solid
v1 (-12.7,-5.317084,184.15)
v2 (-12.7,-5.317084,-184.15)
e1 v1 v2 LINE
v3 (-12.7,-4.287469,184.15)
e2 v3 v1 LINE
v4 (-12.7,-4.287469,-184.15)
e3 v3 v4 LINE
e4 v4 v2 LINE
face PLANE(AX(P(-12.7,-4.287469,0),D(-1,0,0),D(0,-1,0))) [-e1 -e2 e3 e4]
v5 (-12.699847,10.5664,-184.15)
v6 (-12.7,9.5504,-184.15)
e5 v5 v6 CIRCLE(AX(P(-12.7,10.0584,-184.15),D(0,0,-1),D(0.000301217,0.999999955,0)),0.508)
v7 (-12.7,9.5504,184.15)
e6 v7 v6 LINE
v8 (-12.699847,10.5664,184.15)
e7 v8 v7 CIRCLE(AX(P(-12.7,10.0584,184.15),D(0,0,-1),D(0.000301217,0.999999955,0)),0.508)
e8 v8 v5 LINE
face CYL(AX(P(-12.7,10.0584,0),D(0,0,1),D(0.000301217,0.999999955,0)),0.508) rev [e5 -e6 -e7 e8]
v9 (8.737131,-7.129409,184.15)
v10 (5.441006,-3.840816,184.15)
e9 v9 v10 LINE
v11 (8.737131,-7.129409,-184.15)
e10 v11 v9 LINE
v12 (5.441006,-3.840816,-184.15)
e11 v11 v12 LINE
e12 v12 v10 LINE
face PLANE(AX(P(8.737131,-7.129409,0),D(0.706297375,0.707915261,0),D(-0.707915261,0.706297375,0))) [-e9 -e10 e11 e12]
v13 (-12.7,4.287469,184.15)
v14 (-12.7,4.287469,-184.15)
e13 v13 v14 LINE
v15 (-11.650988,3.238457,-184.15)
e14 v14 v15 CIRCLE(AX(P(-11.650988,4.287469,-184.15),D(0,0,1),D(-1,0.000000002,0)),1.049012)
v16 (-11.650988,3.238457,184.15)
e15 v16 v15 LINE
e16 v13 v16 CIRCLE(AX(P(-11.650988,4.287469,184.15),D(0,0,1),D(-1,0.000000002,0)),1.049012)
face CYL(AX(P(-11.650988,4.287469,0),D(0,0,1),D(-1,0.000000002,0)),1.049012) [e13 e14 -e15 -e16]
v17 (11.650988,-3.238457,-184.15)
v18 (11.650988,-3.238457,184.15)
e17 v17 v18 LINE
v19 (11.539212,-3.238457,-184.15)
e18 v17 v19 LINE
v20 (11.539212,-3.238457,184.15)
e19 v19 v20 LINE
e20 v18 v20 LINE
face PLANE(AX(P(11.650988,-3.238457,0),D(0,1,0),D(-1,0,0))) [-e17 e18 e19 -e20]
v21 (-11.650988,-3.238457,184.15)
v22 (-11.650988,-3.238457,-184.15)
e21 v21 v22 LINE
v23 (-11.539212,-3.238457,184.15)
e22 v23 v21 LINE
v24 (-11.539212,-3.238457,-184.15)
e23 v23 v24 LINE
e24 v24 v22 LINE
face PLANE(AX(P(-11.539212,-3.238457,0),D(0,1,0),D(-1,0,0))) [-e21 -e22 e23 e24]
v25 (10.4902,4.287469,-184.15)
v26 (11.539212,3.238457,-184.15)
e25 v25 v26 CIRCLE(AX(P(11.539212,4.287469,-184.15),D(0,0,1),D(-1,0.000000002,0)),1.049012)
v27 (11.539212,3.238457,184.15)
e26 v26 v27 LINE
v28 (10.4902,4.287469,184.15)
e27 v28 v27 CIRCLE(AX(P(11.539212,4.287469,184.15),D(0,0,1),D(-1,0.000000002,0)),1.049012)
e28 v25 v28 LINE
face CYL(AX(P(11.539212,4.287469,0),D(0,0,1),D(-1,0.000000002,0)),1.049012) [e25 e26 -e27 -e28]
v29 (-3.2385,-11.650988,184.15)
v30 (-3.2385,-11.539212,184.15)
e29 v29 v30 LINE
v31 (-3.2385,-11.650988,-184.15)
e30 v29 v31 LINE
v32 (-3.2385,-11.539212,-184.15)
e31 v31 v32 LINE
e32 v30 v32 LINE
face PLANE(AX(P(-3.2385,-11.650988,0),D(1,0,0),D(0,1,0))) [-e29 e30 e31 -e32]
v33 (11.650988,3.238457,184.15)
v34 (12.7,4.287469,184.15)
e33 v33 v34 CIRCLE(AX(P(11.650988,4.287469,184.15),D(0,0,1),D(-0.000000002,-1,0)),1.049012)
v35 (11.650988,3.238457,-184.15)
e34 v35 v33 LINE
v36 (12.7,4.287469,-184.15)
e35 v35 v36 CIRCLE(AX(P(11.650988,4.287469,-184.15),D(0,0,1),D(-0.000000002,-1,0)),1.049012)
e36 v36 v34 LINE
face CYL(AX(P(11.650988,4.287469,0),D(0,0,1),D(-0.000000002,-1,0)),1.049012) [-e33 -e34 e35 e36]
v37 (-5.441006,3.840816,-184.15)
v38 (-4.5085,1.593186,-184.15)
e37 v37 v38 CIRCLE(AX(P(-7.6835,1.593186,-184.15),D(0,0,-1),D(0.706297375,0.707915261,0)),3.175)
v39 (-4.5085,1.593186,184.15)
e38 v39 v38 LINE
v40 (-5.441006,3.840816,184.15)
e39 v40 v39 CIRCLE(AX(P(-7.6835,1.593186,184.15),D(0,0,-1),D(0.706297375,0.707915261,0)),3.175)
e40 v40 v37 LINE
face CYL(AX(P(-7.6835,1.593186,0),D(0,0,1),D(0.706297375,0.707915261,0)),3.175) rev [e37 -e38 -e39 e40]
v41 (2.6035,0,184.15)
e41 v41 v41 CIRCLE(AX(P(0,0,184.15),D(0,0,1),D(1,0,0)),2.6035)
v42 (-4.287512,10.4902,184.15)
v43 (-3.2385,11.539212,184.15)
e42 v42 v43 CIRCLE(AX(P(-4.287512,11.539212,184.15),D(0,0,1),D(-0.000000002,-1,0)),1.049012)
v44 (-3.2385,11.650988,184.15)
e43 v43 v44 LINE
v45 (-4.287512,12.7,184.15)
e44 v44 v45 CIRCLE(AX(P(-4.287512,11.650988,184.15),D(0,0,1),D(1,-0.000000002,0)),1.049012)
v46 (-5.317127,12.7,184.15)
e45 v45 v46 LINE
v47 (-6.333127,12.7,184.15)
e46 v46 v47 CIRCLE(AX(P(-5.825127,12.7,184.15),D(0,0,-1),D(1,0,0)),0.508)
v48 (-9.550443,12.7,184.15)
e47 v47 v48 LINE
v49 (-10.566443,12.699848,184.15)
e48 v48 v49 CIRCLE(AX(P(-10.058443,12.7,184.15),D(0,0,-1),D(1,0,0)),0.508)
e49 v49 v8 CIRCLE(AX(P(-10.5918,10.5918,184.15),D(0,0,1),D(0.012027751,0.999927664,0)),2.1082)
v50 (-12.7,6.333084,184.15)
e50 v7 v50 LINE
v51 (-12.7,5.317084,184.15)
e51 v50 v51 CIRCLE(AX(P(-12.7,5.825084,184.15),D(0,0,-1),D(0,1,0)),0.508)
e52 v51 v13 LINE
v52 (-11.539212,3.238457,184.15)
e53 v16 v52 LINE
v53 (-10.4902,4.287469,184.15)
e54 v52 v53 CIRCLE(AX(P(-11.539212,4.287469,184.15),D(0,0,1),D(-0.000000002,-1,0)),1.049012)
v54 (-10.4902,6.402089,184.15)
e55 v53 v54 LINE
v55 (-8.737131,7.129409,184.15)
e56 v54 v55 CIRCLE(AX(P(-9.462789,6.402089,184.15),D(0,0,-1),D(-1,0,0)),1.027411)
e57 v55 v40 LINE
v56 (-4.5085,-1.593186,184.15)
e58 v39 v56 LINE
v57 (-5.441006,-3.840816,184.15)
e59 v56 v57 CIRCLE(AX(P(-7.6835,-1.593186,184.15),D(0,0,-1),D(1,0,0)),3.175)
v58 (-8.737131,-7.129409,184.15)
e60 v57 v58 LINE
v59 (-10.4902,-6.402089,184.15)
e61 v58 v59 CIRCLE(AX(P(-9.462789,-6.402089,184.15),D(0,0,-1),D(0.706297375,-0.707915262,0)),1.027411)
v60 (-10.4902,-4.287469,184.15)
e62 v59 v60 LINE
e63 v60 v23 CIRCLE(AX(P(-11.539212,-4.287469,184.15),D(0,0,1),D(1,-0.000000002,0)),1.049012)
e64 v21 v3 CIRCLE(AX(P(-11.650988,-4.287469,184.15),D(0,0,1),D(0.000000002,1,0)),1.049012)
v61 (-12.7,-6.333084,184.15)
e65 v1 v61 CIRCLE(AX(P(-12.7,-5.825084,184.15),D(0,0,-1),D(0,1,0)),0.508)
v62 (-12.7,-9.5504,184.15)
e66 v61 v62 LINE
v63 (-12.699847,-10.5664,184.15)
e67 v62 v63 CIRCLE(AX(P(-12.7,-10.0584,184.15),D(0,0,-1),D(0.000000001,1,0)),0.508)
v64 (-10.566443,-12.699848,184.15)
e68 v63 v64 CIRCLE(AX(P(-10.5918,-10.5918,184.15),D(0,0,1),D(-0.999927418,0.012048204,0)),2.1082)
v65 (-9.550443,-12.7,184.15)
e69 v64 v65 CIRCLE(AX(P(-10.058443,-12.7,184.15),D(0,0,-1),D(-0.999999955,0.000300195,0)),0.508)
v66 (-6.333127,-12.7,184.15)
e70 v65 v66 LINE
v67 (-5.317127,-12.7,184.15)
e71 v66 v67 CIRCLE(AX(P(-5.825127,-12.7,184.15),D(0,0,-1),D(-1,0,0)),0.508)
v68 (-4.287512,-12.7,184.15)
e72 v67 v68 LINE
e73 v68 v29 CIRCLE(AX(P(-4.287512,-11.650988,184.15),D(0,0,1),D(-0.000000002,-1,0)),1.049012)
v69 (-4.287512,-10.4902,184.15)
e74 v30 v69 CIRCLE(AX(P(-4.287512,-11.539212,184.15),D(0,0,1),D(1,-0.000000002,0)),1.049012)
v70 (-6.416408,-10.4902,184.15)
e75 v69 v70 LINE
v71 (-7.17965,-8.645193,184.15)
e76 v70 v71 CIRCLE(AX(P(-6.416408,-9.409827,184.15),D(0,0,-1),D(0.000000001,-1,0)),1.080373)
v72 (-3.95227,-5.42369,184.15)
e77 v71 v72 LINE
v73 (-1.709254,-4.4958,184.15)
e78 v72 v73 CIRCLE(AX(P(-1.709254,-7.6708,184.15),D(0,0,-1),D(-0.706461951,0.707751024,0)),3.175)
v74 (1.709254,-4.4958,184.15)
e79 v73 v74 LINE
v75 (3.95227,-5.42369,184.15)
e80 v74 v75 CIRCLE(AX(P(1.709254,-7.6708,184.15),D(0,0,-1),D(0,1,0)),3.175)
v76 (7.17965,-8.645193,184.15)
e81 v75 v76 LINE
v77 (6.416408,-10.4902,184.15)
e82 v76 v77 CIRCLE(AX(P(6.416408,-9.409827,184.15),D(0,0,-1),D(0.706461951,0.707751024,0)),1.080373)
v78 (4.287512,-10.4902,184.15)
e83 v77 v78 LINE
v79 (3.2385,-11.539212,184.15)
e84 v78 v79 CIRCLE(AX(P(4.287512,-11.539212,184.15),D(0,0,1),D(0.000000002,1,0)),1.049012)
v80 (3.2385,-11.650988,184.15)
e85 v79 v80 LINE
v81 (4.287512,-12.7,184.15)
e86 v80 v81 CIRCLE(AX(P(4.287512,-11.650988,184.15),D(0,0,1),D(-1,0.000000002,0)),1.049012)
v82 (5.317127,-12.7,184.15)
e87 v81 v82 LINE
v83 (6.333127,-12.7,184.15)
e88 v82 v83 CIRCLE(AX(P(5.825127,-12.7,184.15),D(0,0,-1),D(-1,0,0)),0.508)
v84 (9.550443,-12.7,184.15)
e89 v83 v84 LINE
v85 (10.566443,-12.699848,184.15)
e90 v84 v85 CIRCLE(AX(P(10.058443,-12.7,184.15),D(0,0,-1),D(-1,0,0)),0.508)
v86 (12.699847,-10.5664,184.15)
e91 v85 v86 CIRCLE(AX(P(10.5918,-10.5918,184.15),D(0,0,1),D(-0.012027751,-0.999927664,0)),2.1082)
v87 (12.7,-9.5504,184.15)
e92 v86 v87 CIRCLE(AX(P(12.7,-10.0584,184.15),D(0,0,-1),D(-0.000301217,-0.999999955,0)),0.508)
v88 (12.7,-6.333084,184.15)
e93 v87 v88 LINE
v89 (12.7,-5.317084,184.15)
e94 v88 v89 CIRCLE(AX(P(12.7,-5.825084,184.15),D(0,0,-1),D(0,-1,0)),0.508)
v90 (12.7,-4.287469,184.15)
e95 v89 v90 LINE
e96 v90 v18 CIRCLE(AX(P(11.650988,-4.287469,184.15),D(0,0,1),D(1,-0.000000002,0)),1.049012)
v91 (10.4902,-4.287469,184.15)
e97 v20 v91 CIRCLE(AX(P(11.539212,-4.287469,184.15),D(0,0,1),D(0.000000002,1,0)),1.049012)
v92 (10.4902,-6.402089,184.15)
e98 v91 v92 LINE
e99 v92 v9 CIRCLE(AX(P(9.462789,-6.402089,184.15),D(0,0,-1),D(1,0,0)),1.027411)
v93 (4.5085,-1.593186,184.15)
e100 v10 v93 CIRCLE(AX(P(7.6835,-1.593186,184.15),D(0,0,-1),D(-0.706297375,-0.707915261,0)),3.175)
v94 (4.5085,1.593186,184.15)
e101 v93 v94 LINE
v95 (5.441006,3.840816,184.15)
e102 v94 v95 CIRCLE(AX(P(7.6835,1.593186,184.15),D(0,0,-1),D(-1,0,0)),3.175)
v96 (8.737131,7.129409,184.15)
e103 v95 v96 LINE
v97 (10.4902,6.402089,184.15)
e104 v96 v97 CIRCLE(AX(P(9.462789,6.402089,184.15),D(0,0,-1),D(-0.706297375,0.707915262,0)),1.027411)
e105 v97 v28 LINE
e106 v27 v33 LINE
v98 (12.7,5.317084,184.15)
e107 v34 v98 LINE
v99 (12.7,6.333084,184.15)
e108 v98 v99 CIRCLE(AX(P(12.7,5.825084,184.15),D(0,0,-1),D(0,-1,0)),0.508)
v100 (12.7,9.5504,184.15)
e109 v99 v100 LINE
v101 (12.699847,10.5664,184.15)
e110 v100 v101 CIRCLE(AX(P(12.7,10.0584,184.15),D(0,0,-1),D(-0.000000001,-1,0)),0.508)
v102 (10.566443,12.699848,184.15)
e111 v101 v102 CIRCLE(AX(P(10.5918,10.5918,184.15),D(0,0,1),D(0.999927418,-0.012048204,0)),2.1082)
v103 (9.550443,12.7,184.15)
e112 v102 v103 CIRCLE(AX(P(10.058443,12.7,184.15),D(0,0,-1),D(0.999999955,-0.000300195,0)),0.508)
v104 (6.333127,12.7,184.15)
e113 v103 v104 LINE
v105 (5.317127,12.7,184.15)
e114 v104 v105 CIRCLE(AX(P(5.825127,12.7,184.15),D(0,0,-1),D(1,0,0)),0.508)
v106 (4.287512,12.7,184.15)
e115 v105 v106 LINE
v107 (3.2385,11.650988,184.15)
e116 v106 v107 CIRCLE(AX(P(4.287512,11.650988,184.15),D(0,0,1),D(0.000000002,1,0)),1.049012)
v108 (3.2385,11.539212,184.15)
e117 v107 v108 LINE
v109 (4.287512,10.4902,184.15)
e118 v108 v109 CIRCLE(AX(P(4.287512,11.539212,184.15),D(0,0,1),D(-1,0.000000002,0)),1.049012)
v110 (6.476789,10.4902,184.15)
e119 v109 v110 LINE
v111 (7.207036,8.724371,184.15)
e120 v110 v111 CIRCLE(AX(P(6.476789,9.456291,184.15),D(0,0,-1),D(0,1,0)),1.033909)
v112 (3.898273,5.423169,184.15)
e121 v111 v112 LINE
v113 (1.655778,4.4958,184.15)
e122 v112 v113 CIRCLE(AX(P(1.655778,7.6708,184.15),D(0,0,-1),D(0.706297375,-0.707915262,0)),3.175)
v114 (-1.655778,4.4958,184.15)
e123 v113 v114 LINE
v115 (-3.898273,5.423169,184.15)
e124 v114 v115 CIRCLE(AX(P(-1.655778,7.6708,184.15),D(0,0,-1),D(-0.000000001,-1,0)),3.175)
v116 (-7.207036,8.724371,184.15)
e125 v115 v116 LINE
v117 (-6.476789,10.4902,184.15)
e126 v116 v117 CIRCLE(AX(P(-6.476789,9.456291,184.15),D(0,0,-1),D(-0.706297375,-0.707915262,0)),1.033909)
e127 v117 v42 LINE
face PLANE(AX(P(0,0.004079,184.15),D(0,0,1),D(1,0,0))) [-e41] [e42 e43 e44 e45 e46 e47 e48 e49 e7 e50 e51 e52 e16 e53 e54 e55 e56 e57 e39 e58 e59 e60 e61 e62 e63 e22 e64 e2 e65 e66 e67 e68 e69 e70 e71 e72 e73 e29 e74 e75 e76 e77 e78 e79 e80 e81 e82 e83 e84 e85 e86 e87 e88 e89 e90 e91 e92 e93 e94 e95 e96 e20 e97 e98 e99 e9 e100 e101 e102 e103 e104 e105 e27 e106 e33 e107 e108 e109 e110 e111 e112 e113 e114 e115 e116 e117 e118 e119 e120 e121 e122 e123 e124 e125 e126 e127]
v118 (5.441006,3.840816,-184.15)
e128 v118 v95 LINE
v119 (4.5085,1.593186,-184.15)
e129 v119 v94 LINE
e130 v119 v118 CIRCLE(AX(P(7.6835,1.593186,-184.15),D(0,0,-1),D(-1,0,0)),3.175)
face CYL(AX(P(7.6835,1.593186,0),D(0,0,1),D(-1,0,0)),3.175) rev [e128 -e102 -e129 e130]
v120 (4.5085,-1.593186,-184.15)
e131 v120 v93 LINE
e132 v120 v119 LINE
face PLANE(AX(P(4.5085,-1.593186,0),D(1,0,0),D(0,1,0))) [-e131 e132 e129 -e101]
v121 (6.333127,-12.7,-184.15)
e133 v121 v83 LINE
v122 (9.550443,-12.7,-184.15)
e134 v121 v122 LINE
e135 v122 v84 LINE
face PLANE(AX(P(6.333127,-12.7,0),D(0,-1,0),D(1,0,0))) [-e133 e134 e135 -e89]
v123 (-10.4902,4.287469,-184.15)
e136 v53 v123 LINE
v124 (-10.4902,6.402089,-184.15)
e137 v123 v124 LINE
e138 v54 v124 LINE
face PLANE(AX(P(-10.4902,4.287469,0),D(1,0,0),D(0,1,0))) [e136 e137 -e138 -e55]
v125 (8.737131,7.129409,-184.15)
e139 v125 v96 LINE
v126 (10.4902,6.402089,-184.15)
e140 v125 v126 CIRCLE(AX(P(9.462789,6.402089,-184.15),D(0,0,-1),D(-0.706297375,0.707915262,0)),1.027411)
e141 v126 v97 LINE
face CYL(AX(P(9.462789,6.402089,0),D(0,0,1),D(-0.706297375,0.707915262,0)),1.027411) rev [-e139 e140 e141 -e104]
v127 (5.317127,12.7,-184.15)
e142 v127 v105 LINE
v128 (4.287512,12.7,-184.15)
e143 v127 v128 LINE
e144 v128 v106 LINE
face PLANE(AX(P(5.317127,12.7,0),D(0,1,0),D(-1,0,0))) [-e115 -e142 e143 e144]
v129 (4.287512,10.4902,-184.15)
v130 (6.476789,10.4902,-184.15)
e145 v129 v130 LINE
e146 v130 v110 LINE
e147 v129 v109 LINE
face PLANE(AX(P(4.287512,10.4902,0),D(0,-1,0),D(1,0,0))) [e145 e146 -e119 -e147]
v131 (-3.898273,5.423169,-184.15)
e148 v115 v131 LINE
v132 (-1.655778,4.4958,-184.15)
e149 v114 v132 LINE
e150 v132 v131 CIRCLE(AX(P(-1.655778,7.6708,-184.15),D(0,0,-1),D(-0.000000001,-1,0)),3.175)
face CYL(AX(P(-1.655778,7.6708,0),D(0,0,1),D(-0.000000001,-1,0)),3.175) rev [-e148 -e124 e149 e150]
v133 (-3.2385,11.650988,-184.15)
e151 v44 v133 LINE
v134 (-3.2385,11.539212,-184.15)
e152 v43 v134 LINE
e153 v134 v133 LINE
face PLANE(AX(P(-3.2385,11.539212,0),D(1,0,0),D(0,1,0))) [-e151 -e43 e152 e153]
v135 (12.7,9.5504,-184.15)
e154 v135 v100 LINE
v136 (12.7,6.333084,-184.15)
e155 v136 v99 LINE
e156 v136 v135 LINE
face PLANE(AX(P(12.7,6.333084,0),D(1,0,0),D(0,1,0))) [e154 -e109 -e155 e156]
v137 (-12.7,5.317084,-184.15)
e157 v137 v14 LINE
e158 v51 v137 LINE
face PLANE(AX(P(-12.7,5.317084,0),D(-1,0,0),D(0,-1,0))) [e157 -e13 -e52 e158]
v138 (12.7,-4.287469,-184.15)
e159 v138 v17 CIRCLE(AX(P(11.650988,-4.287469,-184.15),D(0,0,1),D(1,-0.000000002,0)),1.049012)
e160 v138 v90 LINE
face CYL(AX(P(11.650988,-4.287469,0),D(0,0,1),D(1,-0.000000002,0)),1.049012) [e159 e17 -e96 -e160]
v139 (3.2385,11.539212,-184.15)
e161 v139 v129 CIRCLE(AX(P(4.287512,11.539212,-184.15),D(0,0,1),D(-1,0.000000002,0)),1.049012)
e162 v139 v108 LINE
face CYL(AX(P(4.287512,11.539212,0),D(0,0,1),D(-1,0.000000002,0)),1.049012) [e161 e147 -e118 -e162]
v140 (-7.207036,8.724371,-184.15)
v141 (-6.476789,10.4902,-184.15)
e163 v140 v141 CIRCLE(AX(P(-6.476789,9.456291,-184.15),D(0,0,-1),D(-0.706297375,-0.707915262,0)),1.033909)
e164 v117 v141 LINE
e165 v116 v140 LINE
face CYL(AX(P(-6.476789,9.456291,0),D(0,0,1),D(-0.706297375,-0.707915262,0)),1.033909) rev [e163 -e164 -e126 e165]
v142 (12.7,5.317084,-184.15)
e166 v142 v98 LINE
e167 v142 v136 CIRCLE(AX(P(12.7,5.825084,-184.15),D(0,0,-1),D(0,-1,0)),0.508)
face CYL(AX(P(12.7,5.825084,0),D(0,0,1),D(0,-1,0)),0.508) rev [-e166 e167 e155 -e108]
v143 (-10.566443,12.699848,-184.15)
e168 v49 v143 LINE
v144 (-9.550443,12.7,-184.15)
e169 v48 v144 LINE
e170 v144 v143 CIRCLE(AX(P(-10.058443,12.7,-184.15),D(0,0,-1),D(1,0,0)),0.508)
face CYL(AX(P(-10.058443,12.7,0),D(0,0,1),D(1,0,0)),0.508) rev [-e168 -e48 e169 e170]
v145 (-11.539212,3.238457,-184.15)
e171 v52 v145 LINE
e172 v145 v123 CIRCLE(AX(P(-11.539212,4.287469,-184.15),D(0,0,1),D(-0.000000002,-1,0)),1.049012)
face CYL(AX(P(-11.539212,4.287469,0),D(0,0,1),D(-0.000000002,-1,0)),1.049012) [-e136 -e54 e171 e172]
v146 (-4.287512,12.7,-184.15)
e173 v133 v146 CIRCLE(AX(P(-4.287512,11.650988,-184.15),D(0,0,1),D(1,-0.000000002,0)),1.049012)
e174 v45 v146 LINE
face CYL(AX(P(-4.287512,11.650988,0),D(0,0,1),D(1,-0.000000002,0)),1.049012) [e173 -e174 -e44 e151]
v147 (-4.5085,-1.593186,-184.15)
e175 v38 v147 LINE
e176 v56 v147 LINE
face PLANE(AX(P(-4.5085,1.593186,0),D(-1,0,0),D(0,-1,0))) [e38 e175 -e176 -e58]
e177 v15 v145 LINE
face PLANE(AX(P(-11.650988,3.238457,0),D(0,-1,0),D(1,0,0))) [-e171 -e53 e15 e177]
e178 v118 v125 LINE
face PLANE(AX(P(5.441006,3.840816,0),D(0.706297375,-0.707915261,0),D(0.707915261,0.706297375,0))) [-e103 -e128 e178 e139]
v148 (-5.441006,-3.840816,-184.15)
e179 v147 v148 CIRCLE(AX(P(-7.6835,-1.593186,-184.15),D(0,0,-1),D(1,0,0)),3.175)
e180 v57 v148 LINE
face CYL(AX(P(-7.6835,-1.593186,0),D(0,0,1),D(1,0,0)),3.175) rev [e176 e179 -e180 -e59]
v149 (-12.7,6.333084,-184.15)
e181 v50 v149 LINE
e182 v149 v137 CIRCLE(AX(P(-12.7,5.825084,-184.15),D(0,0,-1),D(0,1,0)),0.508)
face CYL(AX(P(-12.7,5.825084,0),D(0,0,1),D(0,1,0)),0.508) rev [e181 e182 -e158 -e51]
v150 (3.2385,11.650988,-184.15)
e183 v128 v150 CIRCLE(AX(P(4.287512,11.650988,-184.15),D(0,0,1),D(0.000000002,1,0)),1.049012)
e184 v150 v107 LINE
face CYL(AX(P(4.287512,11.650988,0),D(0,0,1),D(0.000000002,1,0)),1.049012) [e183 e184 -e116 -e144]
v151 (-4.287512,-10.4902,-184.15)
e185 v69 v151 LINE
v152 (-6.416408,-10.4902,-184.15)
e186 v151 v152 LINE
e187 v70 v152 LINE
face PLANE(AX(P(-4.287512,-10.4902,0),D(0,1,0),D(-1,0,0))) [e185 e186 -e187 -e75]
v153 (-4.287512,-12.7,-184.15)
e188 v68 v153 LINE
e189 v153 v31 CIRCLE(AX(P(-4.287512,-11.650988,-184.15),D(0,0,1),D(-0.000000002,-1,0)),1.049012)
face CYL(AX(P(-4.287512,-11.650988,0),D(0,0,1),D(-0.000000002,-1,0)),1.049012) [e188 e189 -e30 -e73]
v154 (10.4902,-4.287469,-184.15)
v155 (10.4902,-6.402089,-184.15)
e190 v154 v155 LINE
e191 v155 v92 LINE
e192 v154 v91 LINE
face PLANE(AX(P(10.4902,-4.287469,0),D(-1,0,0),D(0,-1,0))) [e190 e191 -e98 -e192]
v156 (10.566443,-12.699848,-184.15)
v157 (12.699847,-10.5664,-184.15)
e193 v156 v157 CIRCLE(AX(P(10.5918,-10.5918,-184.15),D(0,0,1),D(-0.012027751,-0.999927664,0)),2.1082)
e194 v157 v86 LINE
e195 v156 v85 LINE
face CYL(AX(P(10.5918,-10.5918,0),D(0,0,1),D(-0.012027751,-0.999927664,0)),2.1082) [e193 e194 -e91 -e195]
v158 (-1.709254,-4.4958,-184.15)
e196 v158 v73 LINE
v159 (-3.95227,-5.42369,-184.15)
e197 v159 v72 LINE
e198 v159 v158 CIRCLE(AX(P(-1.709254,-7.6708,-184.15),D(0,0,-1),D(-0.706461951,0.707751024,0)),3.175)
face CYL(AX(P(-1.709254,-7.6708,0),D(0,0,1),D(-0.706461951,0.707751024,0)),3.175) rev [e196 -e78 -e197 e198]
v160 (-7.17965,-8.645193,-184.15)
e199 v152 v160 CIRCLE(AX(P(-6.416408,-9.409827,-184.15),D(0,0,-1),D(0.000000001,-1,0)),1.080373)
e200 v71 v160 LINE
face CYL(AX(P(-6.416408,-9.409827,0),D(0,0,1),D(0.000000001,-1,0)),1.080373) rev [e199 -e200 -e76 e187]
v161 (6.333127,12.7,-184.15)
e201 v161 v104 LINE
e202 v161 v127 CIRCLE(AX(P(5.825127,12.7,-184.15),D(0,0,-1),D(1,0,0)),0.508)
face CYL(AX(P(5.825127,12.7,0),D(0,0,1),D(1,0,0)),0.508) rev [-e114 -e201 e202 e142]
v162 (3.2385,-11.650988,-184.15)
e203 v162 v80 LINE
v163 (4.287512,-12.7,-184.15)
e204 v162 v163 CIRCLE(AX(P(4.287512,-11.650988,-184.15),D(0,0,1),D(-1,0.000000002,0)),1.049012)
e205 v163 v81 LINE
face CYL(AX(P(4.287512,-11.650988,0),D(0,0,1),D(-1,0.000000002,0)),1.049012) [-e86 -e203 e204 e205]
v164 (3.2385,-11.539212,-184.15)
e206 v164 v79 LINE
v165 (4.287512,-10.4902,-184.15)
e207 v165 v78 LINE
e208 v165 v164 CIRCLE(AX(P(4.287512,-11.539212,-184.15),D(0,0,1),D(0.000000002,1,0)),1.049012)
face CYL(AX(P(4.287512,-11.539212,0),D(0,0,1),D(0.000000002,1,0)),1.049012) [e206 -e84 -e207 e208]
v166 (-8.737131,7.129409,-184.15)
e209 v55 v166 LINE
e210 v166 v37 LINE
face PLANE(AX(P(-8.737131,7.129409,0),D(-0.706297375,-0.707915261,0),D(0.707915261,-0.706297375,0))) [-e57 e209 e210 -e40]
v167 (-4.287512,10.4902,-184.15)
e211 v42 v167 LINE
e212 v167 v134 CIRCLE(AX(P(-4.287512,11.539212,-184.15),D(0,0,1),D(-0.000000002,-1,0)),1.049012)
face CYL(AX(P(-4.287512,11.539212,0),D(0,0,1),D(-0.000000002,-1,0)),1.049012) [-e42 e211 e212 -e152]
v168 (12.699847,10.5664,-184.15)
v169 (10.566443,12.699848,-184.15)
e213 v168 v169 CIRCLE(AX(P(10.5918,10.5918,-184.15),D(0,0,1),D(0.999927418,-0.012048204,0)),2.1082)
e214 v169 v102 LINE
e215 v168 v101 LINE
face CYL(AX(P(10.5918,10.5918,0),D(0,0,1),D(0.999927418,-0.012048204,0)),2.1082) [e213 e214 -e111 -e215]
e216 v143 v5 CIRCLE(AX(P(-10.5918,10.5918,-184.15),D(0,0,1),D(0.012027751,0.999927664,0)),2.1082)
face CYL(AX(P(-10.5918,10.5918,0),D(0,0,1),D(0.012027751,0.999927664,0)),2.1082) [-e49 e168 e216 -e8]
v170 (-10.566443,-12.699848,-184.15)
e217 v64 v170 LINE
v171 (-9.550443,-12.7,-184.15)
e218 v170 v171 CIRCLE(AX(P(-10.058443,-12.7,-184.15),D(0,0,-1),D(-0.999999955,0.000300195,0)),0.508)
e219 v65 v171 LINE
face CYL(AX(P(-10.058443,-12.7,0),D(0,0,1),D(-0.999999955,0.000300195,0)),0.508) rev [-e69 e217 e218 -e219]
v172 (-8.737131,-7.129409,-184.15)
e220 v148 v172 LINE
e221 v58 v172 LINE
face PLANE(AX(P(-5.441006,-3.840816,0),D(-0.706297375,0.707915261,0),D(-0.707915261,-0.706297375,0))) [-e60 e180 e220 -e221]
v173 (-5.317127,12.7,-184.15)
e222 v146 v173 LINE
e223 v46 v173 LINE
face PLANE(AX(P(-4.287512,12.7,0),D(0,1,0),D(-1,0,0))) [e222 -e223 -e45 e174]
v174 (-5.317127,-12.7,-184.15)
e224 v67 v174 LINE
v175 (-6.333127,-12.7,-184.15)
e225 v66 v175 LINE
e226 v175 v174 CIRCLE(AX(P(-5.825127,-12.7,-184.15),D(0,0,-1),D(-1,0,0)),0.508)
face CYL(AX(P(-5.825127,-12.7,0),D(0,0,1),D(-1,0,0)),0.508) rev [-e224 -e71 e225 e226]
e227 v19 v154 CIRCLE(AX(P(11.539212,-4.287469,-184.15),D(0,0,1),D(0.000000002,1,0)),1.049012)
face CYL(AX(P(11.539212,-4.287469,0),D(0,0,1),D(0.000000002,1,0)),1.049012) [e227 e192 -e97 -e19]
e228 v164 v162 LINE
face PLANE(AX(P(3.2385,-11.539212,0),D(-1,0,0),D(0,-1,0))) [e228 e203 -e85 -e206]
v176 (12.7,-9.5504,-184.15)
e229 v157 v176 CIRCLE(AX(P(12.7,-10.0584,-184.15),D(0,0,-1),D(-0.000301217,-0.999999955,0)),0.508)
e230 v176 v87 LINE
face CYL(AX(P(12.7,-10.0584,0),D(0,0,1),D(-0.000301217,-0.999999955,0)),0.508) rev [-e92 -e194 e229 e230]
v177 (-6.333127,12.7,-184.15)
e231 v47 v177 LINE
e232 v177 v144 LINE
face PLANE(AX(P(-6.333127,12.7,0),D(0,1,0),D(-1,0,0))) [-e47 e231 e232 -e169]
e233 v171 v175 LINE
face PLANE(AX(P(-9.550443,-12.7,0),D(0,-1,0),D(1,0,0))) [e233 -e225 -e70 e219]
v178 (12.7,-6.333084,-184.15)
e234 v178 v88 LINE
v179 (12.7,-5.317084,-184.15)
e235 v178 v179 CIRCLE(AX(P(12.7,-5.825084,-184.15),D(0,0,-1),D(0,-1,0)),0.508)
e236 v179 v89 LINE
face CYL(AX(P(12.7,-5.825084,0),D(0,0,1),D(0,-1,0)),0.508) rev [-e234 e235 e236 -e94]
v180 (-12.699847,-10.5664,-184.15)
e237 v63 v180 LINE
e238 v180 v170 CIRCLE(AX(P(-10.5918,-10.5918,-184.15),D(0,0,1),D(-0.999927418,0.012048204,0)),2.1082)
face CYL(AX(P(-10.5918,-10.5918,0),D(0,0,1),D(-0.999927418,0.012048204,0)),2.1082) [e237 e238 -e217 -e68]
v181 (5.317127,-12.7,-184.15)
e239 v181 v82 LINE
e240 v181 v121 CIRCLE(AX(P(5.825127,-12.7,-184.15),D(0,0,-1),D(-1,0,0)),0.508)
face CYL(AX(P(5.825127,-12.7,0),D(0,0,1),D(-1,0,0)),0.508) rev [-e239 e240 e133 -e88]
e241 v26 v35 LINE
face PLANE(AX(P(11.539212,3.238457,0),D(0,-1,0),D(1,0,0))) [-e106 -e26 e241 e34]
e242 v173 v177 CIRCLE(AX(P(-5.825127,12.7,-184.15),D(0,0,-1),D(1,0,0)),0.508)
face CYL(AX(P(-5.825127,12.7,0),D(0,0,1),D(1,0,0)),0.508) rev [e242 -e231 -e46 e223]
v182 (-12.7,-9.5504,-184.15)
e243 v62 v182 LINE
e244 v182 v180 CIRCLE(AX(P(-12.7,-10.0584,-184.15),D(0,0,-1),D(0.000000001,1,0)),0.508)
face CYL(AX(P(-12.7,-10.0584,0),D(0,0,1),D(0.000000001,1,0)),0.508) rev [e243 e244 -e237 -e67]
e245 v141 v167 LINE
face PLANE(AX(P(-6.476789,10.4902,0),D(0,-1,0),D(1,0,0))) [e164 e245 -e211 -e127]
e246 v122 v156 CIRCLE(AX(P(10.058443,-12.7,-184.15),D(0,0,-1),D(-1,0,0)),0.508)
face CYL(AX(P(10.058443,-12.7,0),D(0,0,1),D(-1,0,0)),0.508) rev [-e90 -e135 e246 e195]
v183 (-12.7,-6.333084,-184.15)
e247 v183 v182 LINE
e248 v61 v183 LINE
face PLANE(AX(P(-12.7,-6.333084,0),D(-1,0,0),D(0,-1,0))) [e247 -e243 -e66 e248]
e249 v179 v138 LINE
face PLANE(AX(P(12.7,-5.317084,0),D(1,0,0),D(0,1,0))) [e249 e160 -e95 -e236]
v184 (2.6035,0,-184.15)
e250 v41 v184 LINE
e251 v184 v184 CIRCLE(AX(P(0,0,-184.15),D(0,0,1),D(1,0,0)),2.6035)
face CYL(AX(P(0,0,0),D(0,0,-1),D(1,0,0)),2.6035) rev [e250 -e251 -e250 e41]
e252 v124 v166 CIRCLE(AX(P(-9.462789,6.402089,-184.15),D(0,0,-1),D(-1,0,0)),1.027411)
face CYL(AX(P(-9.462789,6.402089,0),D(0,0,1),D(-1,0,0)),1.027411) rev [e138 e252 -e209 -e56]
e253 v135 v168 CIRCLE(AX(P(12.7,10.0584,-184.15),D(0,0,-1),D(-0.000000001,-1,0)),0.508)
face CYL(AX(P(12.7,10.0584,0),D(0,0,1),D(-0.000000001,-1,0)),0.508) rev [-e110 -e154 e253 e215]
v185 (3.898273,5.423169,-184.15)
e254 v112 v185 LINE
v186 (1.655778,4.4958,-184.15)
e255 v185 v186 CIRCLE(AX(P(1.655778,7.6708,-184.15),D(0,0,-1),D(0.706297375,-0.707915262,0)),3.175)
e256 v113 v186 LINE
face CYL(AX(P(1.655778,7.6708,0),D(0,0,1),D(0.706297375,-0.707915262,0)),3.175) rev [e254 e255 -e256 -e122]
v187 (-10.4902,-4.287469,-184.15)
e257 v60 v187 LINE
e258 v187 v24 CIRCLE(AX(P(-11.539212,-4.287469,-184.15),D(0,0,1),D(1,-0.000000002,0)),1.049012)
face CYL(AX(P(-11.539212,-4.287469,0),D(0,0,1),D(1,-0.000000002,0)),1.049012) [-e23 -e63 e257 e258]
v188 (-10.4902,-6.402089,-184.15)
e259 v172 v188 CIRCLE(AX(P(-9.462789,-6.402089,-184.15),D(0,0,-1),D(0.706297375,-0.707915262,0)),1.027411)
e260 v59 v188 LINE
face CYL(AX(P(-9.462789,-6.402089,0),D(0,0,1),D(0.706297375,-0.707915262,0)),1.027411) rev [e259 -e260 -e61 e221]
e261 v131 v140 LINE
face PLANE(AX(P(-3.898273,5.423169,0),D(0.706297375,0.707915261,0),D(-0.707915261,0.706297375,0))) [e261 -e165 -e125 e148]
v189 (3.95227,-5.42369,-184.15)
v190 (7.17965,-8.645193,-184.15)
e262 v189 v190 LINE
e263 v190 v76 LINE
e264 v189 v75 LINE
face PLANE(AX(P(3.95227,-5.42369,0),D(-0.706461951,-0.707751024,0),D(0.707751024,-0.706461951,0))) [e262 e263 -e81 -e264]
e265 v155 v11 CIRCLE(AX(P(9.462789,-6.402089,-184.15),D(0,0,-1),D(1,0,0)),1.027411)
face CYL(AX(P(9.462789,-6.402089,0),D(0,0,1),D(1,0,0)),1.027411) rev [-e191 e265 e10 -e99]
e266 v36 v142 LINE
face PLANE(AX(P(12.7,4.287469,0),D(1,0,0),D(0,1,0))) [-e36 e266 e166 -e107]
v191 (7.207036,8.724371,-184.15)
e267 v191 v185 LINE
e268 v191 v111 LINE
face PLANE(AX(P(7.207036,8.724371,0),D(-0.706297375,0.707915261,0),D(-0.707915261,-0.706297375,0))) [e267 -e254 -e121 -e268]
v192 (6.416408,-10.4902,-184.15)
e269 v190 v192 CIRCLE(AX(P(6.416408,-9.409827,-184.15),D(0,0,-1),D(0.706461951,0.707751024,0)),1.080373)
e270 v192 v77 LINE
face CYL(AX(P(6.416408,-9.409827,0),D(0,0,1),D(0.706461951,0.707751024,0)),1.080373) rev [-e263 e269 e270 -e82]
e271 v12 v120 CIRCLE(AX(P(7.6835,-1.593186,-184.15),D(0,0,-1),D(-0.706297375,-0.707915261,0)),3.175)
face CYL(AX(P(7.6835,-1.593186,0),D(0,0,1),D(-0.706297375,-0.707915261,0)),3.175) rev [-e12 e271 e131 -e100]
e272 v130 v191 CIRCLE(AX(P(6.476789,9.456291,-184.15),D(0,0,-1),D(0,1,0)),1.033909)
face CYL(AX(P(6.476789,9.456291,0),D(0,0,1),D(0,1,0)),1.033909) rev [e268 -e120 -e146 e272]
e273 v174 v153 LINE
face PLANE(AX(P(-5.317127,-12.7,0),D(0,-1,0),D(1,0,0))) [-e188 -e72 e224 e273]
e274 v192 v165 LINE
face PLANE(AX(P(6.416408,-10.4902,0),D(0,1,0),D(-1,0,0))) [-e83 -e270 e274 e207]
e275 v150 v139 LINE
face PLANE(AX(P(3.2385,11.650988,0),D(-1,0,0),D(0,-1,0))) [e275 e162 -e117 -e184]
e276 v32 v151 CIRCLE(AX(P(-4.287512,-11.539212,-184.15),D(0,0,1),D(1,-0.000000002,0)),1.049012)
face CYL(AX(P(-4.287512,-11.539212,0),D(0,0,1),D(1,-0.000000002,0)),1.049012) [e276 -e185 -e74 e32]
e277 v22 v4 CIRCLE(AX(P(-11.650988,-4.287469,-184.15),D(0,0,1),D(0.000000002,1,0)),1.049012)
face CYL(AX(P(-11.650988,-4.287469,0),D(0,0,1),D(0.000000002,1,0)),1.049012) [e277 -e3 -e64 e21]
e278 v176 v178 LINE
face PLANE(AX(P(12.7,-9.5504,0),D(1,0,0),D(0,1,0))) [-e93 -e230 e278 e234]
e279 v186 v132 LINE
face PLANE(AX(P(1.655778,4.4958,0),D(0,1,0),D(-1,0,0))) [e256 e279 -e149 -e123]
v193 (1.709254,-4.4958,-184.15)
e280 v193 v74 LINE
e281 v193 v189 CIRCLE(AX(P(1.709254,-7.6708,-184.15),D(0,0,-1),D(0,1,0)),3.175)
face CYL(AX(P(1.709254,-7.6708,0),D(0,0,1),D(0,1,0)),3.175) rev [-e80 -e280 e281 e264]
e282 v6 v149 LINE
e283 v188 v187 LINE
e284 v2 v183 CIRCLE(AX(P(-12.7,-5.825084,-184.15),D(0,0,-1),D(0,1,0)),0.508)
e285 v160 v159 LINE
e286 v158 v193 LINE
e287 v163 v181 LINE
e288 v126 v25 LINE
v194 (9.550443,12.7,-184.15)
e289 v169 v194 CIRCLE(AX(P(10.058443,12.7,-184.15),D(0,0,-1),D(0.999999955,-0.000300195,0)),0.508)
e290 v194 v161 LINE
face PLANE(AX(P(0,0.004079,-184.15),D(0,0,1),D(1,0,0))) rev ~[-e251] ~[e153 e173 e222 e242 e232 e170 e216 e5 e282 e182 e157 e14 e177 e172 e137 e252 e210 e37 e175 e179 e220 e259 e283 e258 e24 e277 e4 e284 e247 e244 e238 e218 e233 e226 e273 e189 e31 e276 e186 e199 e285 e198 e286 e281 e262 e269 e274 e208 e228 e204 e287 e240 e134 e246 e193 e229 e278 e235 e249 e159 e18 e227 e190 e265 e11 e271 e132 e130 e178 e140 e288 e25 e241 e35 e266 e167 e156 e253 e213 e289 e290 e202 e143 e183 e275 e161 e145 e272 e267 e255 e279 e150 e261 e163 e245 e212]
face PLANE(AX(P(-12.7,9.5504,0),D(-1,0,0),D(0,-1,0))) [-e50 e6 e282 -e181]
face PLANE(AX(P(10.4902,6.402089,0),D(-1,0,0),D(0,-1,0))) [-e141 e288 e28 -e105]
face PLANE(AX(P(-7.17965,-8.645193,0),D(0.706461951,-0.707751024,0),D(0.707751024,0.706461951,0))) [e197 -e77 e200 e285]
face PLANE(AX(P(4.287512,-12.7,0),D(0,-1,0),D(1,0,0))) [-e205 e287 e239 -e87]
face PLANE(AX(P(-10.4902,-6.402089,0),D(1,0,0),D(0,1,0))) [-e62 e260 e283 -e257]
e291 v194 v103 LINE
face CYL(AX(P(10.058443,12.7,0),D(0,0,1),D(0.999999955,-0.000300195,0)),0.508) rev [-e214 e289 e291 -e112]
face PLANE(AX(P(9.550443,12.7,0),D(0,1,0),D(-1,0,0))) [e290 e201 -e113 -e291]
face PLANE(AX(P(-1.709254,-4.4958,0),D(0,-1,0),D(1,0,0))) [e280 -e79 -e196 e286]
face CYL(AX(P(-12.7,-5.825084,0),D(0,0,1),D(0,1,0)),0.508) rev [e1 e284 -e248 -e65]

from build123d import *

# Parameters (mm, degrees)
SKETCH1_R           = 2.6035
BOSS_EXTRUDE1_DEPTH = 184.15


with BuildPart() as part:
    # Sketch1 → Boss-Extrude1 (new, symmetric)
    with BuildSketch(Plane.XY):
        with BuildLine():
            Line((-7.179650497, -8.645192506), (-3.952270251, -5.423690499))
            ThreePointArc((-3.952270251, -5.423690499), (-2.922936451, -4.736929036), (-1.709253557, -4.4958))
            Line((-1.709253557, -4.4958), (1.709253557, -4.4958))
            ThreePointArc((1.709253557, -4.4958), (2.922936451, -4.736929036), (3.952270251, -5.423690499))
            Line((3.952270251, -5.423690499), (7.179650497, -8.645192506))
            ThreePointArc((7.179650497, -8.645192506), (7.41473083, -9.822813117), (6.416408329, -10.4902))
            Line((6.416408329, -10.4902), (4.287512407, -10.4902))
            ThreePointArc((4.287512407, -10.4902), (3.54574862, -10.79744862), (3.2385, -11.539212407))
            Line((3.2385, -11.539212407), (3.2385, -11.650987593))
            ThreePointArc((3.2385, -11.650987593), (3.54574862, -12.39275138), (4.287512407, -12.7))
            Line((4.287512407, -12.7), (5.317126718, -12.7))
            ThreePointArc((5.317126718, -12.7), (5.825126718, -12.192), (6.333126718, -12.7))
            Line((6.333126718, -12.7), (9.550443118, -12.7))
            ThreePointArc((9.550443118, -12.7), (10.058366869, -12.192000006), (10.566443095, -12.699847501))
            ThreePointArc((10.566443095, -12.699847501), (12.082537762, -12.08250727), (12.699846982, -10.566399977))
            ThreePointArc((12.699846982, -10.566399977), (12.192000006, -10.058323491), (12.7, -9.5504))
            Line((12.7, -9.5504), (12.7, -6.3330836))
            ThreePointArc((12.7, -6.3330836), (12.192, -5.8250836), (12.7, -5.3170836))
            Line((12.7, -5.3170836), (12.7, -4.287469289))
            ThreePointArc((12.7, -4.287469289), (12.39275138, -3.545705502), (11.650987593, -3.238456882))
            Line((11.650987593, -3.238456882), (11.539212407, -3.238456882))
            ThreePointArc((11.539212407, -3.238456882), (10.79744862, -3.545705502), (10.4902, -4.287469289))
            Line((10.4902, -4.287469289), (10.4902, -6.402089023))
            ThreePointArc((10.4902, -6.402089023), (9.856505071, -7.351067942), (8.737131347, -7.129408934))
            Line((8.737131347, -7.129408934), (5.441005833, -3.840816462))
            ThreePointArc((5.441005833, -3.840816462), (4.750877967, -2.809883091), (4.5085, -1.593185507))
            Line((4.5085, -1.593185507), (4.5085, 1.593185507))
            ThreePointArc((4.5085, 1.593185507), (4.750877967, 2.809883091), (5.441005833, 3.840816462))
            Line((5.441005833, 3.840816462), (8.737131347, 7.129408934))
            ThreePointArc((8.737131347, 7.129408934), (9.856505071, 7.351067942), (10.4902, 6.402089023))
            Line((10.4902, 6.402089023), (10.4902, 4.287469289))
            ThreePointArc((10.4902, 4.287469289), (10.79744862, 3.545705502), (11.539212407, 3.238456882))
            Line((11.539212407, 3.238456882), (11.650987593, 3.238456882))
            ThreePointArc((11.650987593, 3.238456882), (12.39275138, 3.545705502), (12.7, 4.287469289))
            Line((12.7, 4.287469289), (12.7, 5.3170836))
            ThreePointArc((12.7, 5.3170836), (12.192, 5.8250836), (12.7, 6.3330836))
            Line((12.7, 6.3330836), (12.7, 9.5504))
            ThreePointArc((12.7, 9.5504), (12.192000006, 10.058323491), (12.699846982, 10.566399977))
            ThreePointArc((12.699846982, 10.566399977), (12.082537762, 12.08250727), (10.566443095, 12.699847501))
            ThreePointArc((10.566443095, 12.699847501), (10.058366869, 12.192000006), (9.550443118, 12.7))
            Line((9.550443118, 12.7), (6.333126718, 12.7))
            ThreePointArc((6.333126718, 12.7), (5.825126718, 12.192), (5.317126718, 12.7))
            Line((5.317126718, 12.7), (4.287512407, 12.7))
            ThreePointArc((4.287512407, 12.7), (3.54574862, 12.39275138), (3.2385, 11.650987593))
            Line((3.2385, 11.650987593), (3.2385, 11.539212407))
            ThreePointArc((3.2385, 11.539212407), (3.54574862, 10.79744862), (4.287512407, 10.4902))
            Line((4.287512407, 10.4902), (6.476788598, 10.4902))
            ThreePointArc((6.476788598, 10.4902), (7.432222385, 9.85140422), (7.207036008, 8.724370562))
            Line((7.207036008, 8.724370562), (3.898272566, 5.423169045))
            ThreePointArc((3.898272566, 5.423169045), (2.869120213, 4.736787962), (1.655778399, 4.4958))
            Line((1.655778399, 4.4958), (-1.655778399, 4.4958))
            ThreePointArc((-1.655778399, 4.4958), (-2.869120213, 4.736787962), (-3.898272566, 5.423169045))
            Line((-3.898272566, 5.423169045), (-7.207036008, 8.724370562))
            ThreePointArc((-7.207036008, 8.724370562), (-7.432222385, 9.85140422), (-6.476788598, 10.4902))
            Line((-6.476788598, 10.4902), (-4.287512407, 10.4902))
            ThreePointArc((-4.287512407, 10.4902), (-3.54574862, 10.79744862), (-3.2385, 11.539212407))
            Line((-3.2385, 11.539212407), (-3.2385, 11.650987593))
            ThreePointArc((-3.2385, 11.650987593), (-3.54574862, 12.39275138), (-4.287512407, 12.7))
            Line((-4.287512407, 12.7), (-5.317126718, 12.7))
            ThreePointArc((-5.317126718, 12.7), (-5.825126718, 12.192), (-6.333126718, 12.7))
            Line((-6.333126718, 12.7), (-9.550443118, 12.7))
            ThreePointArc((-9.550443118, 12.7), (-10.058366869, 12.192000006), (-10.566443095, 12.699847501))
            ThreePointArc((-10.566443095, 12.699847501), (-12.082537762, 12.08250727), (-12.699846982, 10.566399977))
            ThreePointArc((-12.699846982, 10.566399977), (-12.192000006, 10.058323491), (-12.7, 9.5504))
            Line((-12.7, 9.5504), (-12.7, 6.3330836))
            ThreePointArc((-12.7, 6.3330836), (-12.192, 5.8250836), (-12.7, 5.3170836))
            Line((-12.7, 5.3170836), (-12.7, 4.287469289))
            ThreePointArc((-12.7, 4.287469289), (-12.39275138, 3.545705502), (-11.650987593, 3.238456882))
            Line((-11.650987593, 3.238456882), (-11.539212407, 3.238456882))
            ThreePointArc((-11.539212407, 3.238456882), (-10.79744862, 3.545705502), (-10.4902, 4.287469289))
            Line((-10.4902, 4.287469289), (-10.4902, 6.402089023))
            ThreePointArc((-10.4902, 6.402089023), (-9.856505071, 7.351067942), (-8.737131347, 7.129408934))
            Line((-8.737131347, 7.129408934), (-5.441005833, 3.840816462))
            ThreePointArc((-5.441005833, 3.840816462), (-4.750877967, 2.809883091), (-4.5085, 1.593185507))
            Line((-4.5085, 1.593185507), (-4.5085, -1.593185507))
            ThreePointArc((-4.5085, -1.593185507), (-4.750877967, -2.809883091), (-5.441005833, -3.840816462))
            Line((-5.441005833, -3.840816462), (-8.737131347, -7.129408934))
            ThreePointArc((-8.737131347, -7.129408934), (-9.856505071, -7.351067942), (-10.4902, -6.402089023))
            Line((-10.4902, -6.402089023), (-10.4902, -4.287469289))
            ThreePointArc((-10.4902, -4.287469289), (-10.79744862, -3.545705502), (-11.539212407, -3.238456882))
            Line((-11.539212407, -3.238456882), (-11.650987593, -3.238456882))
            ThreePointArc((-11.650987593, -3.238456882), (-12.39275138, -3.545705502), (-12.7, -4.287469289))
            Line((-12.7, -4.287469289), (-12.7, -5.3170836))
            ThreePointArc((-12.7, -5.3170836), (-12.192, -5.8250836), (-12.7, -6.3330836))
            Line((-12.7, -6.3330836), (-12.7, -9.5504))
            ThreePointArc((-12.7, -9.5504), (-12.192000006, -10.058323491), (-12.699846982, -10.566399977))
            ThreePointArc((-12.699846982, -10.566399977), (-12.082537762, -12.08250727), (-10.566443095, -12.699847501))
            ThreePointArc((-10.566443095, -12.699847501), (-10.058366869, -12.192000006), (-9.550443118, -12.7))
            Line((-9.550443118, -12.7), (-6.333126718, -12.7))
            ThreePointArc((-6.333126718, -12.7), (-5.825126718, -12.192), (-5.317126718, -12.7))
            Line((-5.317126718, -12.7), (-4.287512407, -12.7))
            ThreePointArc((-4.287512407, -12.7), (-3.54574862, -12.39275138), (-3.2385, -11.650987593))
            Line((-3.2385, -11.650987593), (-3.2385, -11.539212407))
            ThreePointArc((-3.2385, -11.539212407), (-3.54574862, -10.79744862), (-4.287512407, -10.4902))
            Line((-4.287512407, -10.4902), (-6.416408329, -10.4902))
            ThreePointArc((-6.416408329, -10.4902), (-7.41473083, -9.822813117), (-7.179650497, -8.645192506))
        make_face()
        Circle(SKETCH1_R, mode=Mode.SUBTRACT)
    extrude(amount=BOSS_EXTRUDE1_DEPTH, both=True)


solid = part.part
